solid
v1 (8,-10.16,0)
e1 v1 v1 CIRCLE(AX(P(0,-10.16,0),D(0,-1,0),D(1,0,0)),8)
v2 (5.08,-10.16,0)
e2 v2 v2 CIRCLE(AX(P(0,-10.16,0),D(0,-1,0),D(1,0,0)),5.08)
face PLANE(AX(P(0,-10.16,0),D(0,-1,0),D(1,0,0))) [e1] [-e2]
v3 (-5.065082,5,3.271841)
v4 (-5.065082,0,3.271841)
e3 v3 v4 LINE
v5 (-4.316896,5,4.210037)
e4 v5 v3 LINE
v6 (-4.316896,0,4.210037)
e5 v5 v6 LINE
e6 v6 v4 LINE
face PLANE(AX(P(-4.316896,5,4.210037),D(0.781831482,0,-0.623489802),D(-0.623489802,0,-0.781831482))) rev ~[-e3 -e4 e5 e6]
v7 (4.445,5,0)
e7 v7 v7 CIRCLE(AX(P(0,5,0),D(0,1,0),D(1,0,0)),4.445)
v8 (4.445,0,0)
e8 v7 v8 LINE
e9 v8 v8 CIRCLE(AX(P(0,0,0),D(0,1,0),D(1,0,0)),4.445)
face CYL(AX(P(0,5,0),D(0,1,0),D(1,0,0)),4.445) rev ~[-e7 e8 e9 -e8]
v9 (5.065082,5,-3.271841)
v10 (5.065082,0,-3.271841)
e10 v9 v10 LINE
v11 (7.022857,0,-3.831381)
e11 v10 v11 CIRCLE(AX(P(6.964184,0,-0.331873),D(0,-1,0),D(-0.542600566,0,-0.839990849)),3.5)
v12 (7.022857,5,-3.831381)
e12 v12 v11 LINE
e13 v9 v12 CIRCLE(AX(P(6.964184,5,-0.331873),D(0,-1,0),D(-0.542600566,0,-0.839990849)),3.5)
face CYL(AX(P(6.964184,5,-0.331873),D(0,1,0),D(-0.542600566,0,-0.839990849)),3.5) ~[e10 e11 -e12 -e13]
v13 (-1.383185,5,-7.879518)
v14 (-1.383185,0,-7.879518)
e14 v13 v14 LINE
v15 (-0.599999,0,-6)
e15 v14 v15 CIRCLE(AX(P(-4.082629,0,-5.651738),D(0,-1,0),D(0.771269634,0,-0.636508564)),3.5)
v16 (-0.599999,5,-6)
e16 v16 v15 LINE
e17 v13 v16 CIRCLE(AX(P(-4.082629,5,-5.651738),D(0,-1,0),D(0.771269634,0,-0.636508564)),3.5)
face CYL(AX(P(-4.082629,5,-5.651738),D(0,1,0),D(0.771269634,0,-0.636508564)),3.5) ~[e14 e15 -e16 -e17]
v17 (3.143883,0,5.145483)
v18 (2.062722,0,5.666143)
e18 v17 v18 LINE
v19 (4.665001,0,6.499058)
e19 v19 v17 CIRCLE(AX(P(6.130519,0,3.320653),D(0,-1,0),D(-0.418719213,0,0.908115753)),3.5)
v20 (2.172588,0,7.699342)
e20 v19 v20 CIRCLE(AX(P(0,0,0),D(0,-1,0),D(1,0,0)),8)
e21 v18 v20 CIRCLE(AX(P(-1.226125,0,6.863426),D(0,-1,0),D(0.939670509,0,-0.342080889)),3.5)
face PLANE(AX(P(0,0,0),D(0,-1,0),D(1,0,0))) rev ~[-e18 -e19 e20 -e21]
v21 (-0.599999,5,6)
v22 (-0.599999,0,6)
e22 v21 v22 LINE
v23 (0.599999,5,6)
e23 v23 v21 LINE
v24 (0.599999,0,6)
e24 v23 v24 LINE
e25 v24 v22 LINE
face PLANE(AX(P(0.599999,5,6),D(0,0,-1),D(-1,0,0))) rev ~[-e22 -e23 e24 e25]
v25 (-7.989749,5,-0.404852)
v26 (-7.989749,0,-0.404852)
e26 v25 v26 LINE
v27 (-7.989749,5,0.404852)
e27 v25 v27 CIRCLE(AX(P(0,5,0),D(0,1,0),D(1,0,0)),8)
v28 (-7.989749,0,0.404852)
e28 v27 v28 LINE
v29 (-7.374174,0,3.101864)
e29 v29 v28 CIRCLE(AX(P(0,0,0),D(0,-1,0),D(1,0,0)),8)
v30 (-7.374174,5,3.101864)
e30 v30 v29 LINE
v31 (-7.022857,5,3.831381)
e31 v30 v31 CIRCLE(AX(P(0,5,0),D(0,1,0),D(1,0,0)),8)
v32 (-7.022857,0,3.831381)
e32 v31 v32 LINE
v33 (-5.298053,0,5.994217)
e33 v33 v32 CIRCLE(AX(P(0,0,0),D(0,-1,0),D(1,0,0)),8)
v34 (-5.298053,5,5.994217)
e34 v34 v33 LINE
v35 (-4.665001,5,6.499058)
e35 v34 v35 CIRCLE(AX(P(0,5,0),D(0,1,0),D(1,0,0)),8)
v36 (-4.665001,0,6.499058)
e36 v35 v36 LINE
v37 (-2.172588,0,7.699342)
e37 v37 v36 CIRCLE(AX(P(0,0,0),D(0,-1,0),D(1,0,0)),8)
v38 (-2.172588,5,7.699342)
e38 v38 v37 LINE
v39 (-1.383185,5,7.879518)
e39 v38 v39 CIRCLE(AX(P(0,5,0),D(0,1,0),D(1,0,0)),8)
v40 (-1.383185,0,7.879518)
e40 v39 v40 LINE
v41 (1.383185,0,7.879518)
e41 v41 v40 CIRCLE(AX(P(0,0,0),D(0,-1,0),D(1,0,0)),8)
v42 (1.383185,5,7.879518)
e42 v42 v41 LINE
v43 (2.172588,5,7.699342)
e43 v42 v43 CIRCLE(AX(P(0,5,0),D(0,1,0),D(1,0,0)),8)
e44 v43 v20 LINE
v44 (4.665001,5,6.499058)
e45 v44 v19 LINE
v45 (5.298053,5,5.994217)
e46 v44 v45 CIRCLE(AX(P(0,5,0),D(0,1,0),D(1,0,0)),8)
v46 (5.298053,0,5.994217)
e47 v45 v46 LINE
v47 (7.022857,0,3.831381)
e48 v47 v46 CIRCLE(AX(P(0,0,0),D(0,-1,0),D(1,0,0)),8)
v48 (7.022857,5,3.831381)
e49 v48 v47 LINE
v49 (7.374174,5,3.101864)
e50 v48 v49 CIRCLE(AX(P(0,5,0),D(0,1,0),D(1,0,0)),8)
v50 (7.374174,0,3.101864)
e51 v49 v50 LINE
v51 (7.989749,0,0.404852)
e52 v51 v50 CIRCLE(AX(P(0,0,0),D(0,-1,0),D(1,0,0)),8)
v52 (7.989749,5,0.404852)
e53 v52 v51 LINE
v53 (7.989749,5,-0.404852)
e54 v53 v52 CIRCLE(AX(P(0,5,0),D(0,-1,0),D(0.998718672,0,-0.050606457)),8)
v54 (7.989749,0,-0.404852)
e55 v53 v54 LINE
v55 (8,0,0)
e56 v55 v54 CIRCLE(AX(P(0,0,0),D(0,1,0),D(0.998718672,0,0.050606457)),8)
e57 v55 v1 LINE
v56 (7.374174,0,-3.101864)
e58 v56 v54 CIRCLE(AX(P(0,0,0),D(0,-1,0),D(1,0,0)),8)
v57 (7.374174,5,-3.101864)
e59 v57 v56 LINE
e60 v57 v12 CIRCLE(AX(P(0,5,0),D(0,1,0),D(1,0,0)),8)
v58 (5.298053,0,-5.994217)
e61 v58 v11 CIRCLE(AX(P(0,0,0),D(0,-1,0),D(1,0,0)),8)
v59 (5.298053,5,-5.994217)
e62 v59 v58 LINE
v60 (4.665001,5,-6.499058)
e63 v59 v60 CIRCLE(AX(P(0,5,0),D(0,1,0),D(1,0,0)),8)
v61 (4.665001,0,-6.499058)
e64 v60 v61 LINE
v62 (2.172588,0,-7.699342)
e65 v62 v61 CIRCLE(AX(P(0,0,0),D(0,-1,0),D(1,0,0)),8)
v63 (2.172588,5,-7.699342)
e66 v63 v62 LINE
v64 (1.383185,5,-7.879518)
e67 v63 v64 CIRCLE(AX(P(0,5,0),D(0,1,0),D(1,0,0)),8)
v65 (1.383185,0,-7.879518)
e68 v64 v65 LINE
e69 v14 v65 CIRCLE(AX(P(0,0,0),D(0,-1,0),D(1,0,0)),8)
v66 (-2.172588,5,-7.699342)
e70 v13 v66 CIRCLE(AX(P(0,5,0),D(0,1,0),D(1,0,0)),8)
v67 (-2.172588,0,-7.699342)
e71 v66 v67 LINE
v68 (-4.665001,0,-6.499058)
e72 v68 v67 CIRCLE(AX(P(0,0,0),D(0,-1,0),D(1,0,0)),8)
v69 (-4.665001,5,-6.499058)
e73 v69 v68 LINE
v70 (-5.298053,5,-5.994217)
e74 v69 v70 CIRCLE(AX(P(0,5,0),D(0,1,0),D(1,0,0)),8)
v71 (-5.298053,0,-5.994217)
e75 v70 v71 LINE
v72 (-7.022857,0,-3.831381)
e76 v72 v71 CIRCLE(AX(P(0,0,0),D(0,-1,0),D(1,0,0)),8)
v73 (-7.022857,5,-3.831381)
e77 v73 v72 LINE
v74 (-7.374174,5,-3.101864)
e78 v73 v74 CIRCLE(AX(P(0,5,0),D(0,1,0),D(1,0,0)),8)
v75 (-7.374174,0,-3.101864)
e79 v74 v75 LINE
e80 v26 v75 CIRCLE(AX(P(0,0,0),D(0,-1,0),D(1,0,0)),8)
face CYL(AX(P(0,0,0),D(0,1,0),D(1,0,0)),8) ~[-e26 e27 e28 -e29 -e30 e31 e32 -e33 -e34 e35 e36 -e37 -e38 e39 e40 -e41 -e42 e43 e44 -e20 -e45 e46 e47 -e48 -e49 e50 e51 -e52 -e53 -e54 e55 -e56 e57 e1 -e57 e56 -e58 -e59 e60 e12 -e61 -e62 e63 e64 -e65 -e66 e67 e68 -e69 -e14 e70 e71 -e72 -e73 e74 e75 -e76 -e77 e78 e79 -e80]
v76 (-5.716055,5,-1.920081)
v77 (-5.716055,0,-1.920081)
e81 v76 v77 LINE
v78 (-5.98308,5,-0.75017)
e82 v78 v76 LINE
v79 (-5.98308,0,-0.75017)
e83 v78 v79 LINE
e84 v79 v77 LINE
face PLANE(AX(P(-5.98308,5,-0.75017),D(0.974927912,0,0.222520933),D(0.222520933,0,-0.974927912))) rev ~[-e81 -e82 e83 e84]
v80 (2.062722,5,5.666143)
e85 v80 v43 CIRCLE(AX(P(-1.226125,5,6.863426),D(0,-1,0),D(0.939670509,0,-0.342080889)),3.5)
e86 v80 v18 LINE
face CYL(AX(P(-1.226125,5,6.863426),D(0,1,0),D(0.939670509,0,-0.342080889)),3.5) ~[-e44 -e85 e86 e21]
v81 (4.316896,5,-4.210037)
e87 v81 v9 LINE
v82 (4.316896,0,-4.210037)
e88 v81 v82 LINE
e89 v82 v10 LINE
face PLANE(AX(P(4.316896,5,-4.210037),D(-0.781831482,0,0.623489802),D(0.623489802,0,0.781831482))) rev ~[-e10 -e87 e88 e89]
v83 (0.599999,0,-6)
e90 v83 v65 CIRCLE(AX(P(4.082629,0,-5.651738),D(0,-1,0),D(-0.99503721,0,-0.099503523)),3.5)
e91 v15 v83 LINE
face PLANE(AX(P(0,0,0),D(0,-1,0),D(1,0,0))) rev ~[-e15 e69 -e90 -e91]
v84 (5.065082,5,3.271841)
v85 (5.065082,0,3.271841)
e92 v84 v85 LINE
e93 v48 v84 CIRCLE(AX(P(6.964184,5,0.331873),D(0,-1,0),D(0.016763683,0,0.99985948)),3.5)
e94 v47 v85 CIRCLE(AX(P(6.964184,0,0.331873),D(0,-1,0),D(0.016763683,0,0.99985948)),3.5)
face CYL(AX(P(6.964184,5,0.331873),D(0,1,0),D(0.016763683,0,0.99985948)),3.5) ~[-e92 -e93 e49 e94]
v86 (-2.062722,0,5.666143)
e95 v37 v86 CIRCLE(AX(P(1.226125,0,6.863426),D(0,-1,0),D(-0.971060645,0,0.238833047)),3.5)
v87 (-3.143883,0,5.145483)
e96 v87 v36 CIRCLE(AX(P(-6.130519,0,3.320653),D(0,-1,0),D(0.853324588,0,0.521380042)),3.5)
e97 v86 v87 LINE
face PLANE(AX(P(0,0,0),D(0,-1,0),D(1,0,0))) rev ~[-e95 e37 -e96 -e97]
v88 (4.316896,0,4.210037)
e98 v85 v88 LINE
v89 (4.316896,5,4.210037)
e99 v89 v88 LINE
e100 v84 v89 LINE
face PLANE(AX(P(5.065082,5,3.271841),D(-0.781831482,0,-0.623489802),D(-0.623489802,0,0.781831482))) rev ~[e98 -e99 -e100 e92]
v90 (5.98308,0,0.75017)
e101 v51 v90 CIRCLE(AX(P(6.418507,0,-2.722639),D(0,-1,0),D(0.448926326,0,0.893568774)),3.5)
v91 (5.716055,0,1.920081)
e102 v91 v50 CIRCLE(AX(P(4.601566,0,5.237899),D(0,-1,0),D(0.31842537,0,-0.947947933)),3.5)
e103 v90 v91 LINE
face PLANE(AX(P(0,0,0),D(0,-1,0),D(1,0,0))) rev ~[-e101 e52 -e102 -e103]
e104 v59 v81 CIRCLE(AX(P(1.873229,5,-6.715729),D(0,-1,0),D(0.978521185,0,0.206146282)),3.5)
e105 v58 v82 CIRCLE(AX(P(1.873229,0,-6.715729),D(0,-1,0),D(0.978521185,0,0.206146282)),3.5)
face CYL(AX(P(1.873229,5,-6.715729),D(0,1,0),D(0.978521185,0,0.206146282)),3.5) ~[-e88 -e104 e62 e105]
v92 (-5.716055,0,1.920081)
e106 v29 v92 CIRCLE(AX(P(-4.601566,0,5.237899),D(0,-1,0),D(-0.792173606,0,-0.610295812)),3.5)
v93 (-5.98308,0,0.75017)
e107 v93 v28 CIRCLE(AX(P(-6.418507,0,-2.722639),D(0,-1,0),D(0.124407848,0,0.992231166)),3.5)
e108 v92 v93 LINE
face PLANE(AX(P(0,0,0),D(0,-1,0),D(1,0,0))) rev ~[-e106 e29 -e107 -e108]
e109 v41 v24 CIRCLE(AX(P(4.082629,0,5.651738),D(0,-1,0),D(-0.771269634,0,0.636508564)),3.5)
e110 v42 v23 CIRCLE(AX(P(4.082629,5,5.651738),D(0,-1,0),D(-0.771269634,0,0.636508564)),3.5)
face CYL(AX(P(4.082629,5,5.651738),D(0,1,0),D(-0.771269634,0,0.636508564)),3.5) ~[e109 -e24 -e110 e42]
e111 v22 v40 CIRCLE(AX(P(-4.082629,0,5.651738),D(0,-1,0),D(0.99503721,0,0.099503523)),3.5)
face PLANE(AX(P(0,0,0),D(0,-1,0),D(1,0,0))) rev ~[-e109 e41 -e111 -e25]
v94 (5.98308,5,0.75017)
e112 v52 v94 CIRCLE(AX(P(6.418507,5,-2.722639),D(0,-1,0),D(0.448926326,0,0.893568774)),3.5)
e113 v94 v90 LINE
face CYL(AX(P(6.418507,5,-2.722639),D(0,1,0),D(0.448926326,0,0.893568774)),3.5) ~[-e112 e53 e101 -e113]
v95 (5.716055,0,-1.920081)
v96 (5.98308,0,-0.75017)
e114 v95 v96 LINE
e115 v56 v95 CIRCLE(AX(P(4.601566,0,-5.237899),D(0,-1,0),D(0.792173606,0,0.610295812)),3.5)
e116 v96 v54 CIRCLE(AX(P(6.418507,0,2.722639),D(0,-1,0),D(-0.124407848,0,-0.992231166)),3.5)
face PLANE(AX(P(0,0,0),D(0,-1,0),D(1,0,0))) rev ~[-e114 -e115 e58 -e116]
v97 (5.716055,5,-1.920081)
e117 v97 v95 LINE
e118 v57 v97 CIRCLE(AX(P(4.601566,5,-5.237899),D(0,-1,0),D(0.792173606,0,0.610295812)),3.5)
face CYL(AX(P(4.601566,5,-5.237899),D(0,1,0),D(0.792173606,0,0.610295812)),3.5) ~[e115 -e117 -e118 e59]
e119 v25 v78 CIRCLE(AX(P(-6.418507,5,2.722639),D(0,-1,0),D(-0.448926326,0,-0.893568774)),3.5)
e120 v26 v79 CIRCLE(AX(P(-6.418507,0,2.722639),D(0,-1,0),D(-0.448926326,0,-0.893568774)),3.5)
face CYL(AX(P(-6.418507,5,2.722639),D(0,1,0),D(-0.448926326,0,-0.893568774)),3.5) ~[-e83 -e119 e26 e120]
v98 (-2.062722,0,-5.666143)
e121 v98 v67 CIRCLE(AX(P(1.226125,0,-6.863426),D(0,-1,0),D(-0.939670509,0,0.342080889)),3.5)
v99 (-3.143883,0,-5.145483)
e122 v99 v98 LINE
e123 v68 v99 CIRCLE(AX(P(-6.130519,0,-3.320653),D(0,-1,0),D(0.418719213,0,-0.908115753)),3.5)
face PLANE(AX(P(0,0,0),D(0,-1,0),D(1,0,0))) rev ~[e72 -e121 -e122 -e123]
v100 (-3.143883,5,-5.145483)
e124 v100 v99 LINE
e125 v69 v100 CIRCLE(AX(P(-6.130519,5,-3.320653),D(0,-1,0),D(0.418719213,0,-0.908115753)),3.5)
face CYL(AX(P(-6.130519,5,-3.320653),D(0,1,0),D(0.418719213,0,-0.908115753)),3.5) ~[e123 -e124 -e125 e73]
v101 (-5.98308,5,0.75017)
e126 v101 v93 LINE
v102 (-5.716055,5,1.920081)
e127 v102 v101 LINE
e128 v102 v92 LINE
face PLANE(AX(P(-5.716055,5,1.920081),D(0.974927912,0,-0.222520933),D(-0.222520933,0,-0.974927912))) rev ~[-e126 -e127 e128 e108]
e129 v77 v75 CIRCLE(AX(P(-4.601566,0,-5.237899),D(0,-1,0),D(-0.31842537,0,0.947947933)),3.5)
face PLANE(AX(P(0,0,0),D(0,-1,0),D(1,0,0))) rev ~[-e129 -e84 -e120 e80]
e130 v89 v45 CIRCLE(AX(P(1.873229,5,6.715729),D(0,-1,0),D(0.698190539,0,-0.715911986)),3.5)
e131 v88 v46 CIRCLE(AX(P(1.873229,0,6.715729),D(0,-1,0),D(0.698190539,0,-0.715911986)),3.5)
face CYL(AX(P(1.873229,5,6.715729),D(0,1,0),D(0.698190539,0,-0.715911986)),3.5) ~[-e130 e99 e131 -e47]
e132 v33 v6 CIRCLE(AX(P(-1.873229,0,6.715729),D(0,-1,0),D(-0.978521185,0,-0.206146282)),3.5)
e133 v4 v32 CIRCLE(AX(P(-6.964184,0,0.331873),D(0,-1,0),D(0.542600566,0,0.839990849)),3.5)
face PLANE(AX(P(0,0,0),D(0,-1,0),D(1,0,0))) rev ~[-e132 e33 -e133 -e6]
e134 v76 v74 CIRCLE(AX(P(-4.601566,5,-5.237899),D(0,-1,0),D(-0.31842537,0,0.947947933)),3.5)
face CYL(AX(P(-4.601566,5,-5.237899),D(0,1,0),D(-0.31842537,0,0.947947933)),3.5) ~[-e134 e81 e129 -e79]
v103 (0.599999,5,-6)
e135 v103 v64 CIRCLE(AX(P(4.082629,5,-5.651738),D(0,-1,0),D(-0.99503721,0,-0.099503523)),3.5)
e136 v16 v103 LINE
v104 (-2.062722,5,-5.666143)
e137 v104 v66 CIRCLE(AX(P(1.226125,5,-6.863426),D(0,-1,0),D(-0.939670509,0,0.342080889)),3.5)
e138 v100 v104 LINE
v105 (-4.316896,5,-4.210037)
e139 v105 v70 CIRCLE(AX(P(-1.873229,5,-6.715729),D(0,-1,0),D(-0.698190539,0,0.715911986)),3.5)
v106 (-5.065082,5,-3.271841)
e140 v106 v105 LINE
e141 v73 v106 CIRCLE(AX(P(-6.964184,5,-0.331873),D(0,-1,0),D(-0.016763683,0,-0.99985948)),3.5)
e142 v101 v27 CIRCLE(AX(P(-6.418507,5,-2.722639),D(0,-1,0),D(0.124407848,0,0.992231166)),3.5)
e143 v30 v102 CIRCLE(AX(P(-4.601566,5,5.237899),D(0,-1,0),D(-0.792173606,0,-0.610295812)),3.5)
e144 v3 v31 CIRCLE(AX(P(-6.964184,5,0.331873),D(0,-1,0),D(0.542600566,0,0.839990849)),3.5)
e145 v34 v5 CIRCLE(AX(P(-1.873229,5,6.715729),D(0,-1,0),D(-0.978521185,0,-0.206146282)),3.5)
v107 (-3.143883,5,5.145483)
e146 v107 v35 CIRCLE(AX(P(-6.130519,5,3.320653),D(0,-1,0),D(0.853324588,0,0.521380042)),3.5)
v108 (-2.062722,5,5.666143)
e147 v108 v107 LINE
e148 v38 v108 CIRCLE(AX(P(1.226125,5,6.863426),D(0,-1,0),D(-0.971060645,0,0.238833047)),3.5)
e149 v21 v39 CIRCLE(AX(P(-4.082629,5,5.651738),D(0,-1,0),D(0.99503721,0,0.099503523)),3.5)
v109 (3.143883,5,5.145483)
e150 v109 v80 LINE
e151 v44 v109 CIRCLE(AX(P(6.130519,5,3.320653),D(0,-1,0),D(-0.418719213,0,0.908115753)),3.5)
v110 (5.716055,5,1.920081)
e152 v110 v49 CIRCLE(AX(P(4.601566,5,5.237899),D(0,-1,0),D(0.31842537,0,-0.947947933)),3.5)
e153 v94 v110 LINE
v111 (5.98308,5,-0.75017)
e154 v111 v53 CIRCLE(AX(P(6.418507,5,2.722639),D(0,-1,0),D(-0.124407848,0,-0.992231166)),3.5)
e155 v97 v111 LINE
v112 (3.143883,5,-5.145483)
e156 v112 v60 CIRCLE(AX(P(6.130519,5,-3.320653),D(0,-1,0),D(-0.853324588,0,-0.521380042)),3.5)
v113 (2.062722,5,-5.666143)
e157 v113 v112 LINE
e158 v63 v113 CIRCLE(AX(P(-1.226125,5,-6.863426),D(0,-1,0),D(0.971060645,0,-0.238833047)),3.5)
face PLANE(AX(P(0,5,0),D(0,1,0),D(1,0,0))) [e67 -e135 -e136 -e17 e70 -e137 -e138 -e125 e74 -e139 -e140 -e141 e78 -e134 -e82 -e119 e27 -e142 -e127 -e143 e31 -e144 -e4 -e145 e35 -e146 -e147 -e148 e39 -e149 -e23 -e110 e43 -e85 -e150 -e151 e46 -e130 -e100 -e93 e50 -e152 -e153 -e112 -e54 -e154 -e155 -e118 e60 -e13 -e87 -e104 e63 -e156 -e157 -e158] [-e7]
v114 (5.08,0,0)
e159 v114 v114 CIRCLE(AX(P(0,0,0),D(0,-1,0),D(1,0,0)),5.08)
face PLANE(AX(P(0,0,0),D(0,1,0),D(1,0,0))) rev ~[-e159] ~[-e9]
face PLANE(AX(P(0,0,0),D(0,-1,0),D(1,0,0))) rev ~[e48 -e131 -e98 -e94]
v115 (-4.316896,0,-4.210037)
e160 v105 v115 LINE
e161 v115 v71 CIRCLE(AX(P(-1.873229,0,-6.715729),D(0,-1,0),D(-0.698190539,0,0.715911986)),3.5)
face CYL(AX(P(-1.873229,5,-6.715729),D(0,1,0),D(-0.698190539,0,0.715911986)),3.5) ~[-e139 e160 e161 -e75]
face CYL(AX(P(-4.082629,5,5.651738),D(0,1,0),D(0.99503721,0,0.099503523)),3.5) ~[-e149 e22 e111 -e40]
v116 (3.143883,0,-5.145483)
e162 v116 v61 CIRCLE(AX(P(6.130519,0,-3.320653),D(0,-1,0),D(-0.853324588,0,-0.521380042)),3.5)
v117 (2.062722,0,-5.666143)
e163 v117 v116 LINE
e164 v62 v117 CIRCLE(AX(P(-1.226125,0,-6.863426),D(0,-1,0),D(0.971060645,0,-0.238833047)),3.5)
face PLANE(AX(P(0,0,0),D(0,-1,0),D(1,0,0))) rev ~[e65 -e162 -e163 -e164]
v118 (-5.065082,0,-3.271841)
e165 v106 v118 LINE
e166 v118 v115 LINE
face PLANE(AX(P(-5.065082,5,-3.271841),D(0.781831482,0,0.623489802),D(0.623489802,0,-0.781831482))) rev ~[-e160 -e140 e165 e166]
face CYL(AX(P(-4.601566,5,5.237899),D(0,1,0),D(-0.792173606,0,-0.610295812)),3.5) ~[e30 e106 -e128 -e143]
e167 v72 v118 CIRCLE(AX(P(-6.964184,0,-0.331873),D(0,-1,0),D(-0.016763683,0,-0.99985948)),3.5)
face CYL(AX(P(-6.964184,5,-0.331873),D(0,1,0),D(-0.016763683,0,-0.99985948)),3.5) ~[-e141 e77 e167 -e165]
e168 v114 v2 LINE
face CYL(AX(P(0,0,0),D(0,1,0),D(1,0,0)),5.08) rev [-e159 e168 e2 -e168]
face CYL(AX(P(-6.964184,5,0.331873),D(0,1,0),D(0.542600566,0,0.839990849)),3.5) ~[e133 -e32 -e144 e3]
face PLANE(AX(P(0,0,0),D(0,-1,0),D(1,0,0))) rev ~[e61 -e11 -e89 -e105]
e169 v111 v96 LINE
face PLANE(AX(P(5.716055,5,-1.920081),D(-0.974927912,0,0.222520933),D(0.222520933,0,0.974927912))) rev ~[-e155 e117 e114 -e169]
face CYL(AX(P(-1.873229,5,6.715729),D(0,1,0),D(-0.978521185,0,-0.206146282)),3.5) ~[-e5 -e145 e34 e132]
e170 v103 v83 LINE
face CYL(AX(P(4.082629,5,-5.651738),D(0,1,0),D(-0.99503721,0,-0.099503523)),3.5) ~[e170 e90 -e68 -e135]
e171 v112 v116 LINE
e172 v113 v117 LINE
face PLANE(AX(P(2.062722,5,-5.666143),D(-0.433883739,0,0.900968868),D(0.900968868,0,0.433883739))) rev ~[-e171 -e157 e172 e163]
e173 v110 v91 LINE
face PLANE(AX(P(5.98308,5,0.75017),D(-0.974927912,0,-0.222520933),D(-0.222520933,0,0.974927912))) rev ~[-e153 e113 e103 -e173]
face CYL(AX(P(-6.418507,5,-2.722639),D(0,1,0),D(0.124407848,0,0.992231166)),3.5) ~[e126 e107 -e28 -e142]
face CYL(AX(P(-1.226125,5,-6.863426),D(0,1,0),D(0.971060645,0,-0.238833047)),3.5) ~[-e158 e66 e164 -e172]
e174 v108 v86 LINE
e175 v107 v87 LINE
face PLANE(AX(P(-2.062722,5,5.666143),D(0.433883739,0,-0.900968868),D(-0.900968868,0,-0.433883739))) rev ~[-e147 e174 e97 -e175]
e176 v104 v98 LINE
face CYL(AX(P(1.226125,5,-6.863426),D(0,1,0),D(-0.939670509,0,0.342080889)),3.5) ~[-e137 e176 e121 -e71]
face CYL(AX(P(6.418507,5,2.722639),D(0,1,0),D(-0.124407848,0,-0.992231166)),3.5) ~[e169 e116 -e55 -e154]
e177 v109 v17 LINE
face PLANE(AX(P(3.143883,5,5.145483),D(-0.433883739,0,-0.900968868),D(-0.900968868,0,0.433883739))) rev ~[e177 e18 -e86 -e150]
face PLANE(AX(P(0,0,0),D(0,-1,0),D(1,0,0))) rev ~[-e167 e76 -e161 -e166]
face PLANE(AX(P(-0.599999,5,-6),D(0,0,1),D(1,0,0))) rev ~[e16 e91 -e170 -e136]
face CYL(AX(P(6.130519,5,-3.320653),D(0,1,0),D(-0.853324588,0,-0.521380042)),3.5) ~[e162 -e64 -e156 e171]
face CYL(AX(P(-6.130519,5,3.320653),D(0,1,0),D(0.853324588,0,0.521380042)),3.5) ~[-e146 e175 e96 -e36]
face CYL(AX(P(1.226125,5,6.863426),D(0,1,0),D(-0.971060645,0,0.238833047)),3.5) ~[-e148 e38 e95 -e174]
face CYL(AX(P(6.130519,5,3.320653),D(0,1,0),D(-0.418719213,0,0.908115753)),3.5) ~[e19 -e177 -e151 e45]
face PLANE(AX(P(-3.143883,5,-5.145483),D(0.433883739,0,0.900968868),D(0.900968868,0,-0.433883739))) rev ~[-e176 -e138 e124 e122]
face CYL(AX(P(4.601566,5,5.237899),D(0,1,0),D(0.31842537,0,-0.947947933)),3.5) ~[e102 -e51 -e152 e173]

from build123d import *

# Parameters (mm, degrees)
SKETCH3_R           = 8
BOSS_EXTRUDE3_DEPTH = 5
CUT_EXTRUDE1_DEPTH  = 5
SKETCH6_R           = 4.445
CUT_EXTRUDE2_DEPTH  = 6
SKETCH8_R           = 8
SKETCH8_R_2         = 5.08
BOSS_EXTRUDE4_DEPTH = 10.16


with BuildPart() as part:
    # Sketch3 → Boss-Extrude3 (new body)
    with BuildSketch(Plane(origin=(0, 0, 0), x_dir=(1, 0, 0), z_dir=(0, 1, 0))):
        Circle(SKETCH3_R)
    extrude(amount=BOSS_EXTRUDE3_DEPTH)

    # Sketch4 → Cut-Extrude1 (cut)
    with BuildSketch(Plane(origin=(0, 5, 0), x_dir=(1, 0, 0), z_dir=(0, 1, 0))):
        with BuildLine():
            Line((-0.5999988, 6), (0.5999988, 6))
            ThreePointArc((0.5999988, 6), (0.85189286, 6.99797085), (1.383185318, 7.879517649))
            ThreePointArc((1.383185318, 7.879517649), (0, 8), (-1.383185318, 7.879517649))
            ThreePointArc((-1.383185318, 7.879517649), (-0.85189286, 6.99797085), (-0.5999988, 6))
        make_face()
        with BuildLine():
            Line((2.062722195, 5.66614293), (3.143882674, 5.145483485))
            ThreePointArc((3.143882674, 5.145483485), (3.803834704, 5.935331415), (4.66500149, 6.499058478))
            ThreePointArc((4.66500149, 6.499058478), (3.471069913, 7.207750943), (2.17258767, 7.699341713))
            ThreePointArc((2.17258767, 7.699341713), (2.268776813, 6.674576334), (2.062722195, 5.66614293))
        make_face()
        with BuildLine():
            Line((4.316895762, 4.210036762), (5.065082028, 3.27184086))
            ThreePointArc((5.065082028, 3.27184086), (6.002380434, 3.697126801), (7.022856904, 3.83138107))
            ThreePointArc((7.022856904, 3.83138107), (6.25465186, 4.987918415), (5.298053025, 5.994216725))
            ThreePointArc((5.298053025, 5.994216725), (4.940087414, 5.029200116), (4.316895762, 4.210036762))
        make_face()
        with BuildLine():
            Line((5.71605518, 1.920081181), (5.983079766, 0.750170026))
            ThreePointArc((5.983079766, 0.750170026), (7.012081105, 0.726660882), (7.989749379, 0.404851652))
            ThreePointArc((7.989749379, 0.404851652), (7.799423297, 1.780167472), (7.374174001, 3.1018636))
            ThreePointArc((7.374174001, 3.1018636), (6.632953116, 2.387729136), (5.71605518, 1.920081181))
        make_face()
        with BuildLine():
            Line((5.983079766, -0.750170026), (5.71605518, -1.920081181))
            ThreePointArc((5.71605518, -1.920081181), (6.632953116, -2.387729136), (7.374174001, -3.1018636))
            ThreePointArc((7.374174001, -3.1018636), (7.799423297, -1.780167472), (7.989749379, -0.404851652))
            ThreePointArc((7.989749379, -0.404851652), (7.012081105, -0.726660882), (5.983079766, -0.750170026))
        make_face()
        with BuildLine():
            Line((5.065082028, -3.27184086), (4.316895762, -4.210036762))
            ThreePointArc((4.316895762, -4.210036762), (4.940087414, -5.029200116), (5.298053025, -5.994216725))
            ThreePointArc((5.298053025, -5.994216725), (6.25465186, -4.987918415), (7.022856904, -3.83138107))
            ThreePointArc((7.022856904, -3.83138107), (6.002380434, -3.697126801), (5.065082028, -3.27184086))
        make_face()
        with BuildLine():
            Line((3.143882674, -5.145483485), (2.062722195, -5.66614293))
            ThreePointArc((2.062722195, -5.66614293), (2.268776813, -6.674576334), (2.17258767, -7.699341713))
            ThreePointArc((2.17258767, -7.699341713), (3.471069913, -7.207750943), (4.66500149, -6.499058478))
            ThreePointArc((4.66500149, -6.499058478), (3.803834704, -5.935331415), (3.143882674, -5.145483485))
        make_face()
        with BuildLine():
            Line((0.5999988, -6), (-0.5999988, -6))
            ThreePointArc((-0.5999988, -6), (-0.85189286, -6.99797085), (-1.383185318, -7.879517649))
            ThreePointArc((-1.383185318, -7.879517649), (0, -8), (1.383185318, -7.879517649))
            ThreePointArc((1.383185318, -7.879517649), (0.85189286, -6.99797085), (0.5999988, -6))
        make_face()
        with BuildLine():
            Line((-2.062722195, -5.66614293), (-3.143882674, -5.145483485))
            ThreePointArc((-3.143882674, -5.145483485), (-3.803834704, -5.935331415), (-4.66500149, -6.499058478))
            ThreePointArc((-4.66500149, -6.499058478), (-3.471069913, -7.207750943), (-2.17258767, -7.699341713))
            ThreePointArc((-2.17258767, -7.699341713), (-2.268776813, -6.674576334), (-2.062722195, -5.66614293))
        make_face()
        with BuildLine():
            Line((-4.316895762, -4.210036762), (-5.065082028, -3.27184086))
            ThreePointArc((-5.065082028, -3.27184086), (-6.002380434, -3.697126801), (-7.022856904, -3.83138107))
            ThreePointArc((-7.022856904, -3.83138107), (-6.25465186, -4.987918415), (-5.298053025, -5.994216725))
            ThreePointArc((-5.298053025, -5.994216725), (-4.940087414, -5.029200116), (-4.316895762, -4.210036762))
        make_face()
        with BuildLine():
            Line((-5.71605518, -1.920081181), (-5.983079766, -0.750170026))
            ThreePointArc((-5.983079766, -0.750170026), (-7.012081105, -0.726660882), (-7.989749379, -0.404851652))
            ThreePointArc((-7.989749379, -0.404851652), (-7.799423297, -1.780167472), (-7.374174001, -3.1018636))
            ThreePointArc((-7.374174001, -3.1018636), (-6.632953116, -2.387729136), (-5.71605518, -1.920081181))
        make_face()
        with BuildLine():
            Line((-5.983079766, 0.750170026), (-5.71605518, 1.920081181))
            ThreePointArc((-5.71605518, 1.920081181), (-6.632953116, 2.387729136), (-7.374174001, 3.1018636))
            ThreePointArc((-7.374174001, 3.1018636), (-7.799423297, 1.780167472), (-7.989749379, 0.404851652))
            ThreePointArc((-7.989749379, 0.404851652), (-7.012081105, 0.726660882), (-5.983079766, 0.750170026))
        make_face()
        with BuildLine():
            Line((-5.065082028, 3.27184086), (-4.316895762, 4.210036762))
            ThreePointArc((-4.316895762, 4.210036762), (-4.940087414, 5.029200116), (-5.298053025, 5.994216725))
            ThreePointArc((-5.298053025, 5.994216725), (-6.25465186, 4.987918415), (-7.022856904, 3.83138107))
            ThreePointArc((-7.022856904, 3.83138107), (-6.002380434, 3.697126801), (-5.065082028, 3.27184086))
        make_face()
        with BuildLine():
            Line((-3.143882674, 5.145483485), (-2.062722195, 5.66614293))
            ThreePointArc((-2.062722195, 5.66614293), (-2.268776813, 6.674576334), (-2.17258767, 7.699341713))
            ThreePointArc((-2.17258767, 7.699341713), (-3.471069913, 7.207750943), (-4.66500149, 6.499058478))
            ThreePointArc((-4.66500149, 6.499058478), (-3.803834704, 5.935331415), (-3.143882674, 5.145483485))
        make_face()
    extrude(amount=-CUT_EXTRUDE1_DEPTH, mode=Mode.SUBTRACT)

    # Sketch6 → Cut-Extrude2 (cut, through all)
    with BuildSketch(Plane(origin=(0, 5, 0), x_dir=(1, 0, 0), z_dir=(0, 1, 0))):
        Circle(SKETCH6_R)
    extrude(amount=-CUT_EXTRUDE2_DEPTH, mode=Mode.SUBTRACT)

    # Sketch8 → Boss-Extrude4 (add)
    with BuildSketch(Plane.XZ):
        Circle(SKETCH8_R)
        Circle(SKETCH8_R_2, mode=Mode.SUBTRACT)
    extrude(amount=BOSS_EXTRUDE4_DEPTH)


solid = part.part
